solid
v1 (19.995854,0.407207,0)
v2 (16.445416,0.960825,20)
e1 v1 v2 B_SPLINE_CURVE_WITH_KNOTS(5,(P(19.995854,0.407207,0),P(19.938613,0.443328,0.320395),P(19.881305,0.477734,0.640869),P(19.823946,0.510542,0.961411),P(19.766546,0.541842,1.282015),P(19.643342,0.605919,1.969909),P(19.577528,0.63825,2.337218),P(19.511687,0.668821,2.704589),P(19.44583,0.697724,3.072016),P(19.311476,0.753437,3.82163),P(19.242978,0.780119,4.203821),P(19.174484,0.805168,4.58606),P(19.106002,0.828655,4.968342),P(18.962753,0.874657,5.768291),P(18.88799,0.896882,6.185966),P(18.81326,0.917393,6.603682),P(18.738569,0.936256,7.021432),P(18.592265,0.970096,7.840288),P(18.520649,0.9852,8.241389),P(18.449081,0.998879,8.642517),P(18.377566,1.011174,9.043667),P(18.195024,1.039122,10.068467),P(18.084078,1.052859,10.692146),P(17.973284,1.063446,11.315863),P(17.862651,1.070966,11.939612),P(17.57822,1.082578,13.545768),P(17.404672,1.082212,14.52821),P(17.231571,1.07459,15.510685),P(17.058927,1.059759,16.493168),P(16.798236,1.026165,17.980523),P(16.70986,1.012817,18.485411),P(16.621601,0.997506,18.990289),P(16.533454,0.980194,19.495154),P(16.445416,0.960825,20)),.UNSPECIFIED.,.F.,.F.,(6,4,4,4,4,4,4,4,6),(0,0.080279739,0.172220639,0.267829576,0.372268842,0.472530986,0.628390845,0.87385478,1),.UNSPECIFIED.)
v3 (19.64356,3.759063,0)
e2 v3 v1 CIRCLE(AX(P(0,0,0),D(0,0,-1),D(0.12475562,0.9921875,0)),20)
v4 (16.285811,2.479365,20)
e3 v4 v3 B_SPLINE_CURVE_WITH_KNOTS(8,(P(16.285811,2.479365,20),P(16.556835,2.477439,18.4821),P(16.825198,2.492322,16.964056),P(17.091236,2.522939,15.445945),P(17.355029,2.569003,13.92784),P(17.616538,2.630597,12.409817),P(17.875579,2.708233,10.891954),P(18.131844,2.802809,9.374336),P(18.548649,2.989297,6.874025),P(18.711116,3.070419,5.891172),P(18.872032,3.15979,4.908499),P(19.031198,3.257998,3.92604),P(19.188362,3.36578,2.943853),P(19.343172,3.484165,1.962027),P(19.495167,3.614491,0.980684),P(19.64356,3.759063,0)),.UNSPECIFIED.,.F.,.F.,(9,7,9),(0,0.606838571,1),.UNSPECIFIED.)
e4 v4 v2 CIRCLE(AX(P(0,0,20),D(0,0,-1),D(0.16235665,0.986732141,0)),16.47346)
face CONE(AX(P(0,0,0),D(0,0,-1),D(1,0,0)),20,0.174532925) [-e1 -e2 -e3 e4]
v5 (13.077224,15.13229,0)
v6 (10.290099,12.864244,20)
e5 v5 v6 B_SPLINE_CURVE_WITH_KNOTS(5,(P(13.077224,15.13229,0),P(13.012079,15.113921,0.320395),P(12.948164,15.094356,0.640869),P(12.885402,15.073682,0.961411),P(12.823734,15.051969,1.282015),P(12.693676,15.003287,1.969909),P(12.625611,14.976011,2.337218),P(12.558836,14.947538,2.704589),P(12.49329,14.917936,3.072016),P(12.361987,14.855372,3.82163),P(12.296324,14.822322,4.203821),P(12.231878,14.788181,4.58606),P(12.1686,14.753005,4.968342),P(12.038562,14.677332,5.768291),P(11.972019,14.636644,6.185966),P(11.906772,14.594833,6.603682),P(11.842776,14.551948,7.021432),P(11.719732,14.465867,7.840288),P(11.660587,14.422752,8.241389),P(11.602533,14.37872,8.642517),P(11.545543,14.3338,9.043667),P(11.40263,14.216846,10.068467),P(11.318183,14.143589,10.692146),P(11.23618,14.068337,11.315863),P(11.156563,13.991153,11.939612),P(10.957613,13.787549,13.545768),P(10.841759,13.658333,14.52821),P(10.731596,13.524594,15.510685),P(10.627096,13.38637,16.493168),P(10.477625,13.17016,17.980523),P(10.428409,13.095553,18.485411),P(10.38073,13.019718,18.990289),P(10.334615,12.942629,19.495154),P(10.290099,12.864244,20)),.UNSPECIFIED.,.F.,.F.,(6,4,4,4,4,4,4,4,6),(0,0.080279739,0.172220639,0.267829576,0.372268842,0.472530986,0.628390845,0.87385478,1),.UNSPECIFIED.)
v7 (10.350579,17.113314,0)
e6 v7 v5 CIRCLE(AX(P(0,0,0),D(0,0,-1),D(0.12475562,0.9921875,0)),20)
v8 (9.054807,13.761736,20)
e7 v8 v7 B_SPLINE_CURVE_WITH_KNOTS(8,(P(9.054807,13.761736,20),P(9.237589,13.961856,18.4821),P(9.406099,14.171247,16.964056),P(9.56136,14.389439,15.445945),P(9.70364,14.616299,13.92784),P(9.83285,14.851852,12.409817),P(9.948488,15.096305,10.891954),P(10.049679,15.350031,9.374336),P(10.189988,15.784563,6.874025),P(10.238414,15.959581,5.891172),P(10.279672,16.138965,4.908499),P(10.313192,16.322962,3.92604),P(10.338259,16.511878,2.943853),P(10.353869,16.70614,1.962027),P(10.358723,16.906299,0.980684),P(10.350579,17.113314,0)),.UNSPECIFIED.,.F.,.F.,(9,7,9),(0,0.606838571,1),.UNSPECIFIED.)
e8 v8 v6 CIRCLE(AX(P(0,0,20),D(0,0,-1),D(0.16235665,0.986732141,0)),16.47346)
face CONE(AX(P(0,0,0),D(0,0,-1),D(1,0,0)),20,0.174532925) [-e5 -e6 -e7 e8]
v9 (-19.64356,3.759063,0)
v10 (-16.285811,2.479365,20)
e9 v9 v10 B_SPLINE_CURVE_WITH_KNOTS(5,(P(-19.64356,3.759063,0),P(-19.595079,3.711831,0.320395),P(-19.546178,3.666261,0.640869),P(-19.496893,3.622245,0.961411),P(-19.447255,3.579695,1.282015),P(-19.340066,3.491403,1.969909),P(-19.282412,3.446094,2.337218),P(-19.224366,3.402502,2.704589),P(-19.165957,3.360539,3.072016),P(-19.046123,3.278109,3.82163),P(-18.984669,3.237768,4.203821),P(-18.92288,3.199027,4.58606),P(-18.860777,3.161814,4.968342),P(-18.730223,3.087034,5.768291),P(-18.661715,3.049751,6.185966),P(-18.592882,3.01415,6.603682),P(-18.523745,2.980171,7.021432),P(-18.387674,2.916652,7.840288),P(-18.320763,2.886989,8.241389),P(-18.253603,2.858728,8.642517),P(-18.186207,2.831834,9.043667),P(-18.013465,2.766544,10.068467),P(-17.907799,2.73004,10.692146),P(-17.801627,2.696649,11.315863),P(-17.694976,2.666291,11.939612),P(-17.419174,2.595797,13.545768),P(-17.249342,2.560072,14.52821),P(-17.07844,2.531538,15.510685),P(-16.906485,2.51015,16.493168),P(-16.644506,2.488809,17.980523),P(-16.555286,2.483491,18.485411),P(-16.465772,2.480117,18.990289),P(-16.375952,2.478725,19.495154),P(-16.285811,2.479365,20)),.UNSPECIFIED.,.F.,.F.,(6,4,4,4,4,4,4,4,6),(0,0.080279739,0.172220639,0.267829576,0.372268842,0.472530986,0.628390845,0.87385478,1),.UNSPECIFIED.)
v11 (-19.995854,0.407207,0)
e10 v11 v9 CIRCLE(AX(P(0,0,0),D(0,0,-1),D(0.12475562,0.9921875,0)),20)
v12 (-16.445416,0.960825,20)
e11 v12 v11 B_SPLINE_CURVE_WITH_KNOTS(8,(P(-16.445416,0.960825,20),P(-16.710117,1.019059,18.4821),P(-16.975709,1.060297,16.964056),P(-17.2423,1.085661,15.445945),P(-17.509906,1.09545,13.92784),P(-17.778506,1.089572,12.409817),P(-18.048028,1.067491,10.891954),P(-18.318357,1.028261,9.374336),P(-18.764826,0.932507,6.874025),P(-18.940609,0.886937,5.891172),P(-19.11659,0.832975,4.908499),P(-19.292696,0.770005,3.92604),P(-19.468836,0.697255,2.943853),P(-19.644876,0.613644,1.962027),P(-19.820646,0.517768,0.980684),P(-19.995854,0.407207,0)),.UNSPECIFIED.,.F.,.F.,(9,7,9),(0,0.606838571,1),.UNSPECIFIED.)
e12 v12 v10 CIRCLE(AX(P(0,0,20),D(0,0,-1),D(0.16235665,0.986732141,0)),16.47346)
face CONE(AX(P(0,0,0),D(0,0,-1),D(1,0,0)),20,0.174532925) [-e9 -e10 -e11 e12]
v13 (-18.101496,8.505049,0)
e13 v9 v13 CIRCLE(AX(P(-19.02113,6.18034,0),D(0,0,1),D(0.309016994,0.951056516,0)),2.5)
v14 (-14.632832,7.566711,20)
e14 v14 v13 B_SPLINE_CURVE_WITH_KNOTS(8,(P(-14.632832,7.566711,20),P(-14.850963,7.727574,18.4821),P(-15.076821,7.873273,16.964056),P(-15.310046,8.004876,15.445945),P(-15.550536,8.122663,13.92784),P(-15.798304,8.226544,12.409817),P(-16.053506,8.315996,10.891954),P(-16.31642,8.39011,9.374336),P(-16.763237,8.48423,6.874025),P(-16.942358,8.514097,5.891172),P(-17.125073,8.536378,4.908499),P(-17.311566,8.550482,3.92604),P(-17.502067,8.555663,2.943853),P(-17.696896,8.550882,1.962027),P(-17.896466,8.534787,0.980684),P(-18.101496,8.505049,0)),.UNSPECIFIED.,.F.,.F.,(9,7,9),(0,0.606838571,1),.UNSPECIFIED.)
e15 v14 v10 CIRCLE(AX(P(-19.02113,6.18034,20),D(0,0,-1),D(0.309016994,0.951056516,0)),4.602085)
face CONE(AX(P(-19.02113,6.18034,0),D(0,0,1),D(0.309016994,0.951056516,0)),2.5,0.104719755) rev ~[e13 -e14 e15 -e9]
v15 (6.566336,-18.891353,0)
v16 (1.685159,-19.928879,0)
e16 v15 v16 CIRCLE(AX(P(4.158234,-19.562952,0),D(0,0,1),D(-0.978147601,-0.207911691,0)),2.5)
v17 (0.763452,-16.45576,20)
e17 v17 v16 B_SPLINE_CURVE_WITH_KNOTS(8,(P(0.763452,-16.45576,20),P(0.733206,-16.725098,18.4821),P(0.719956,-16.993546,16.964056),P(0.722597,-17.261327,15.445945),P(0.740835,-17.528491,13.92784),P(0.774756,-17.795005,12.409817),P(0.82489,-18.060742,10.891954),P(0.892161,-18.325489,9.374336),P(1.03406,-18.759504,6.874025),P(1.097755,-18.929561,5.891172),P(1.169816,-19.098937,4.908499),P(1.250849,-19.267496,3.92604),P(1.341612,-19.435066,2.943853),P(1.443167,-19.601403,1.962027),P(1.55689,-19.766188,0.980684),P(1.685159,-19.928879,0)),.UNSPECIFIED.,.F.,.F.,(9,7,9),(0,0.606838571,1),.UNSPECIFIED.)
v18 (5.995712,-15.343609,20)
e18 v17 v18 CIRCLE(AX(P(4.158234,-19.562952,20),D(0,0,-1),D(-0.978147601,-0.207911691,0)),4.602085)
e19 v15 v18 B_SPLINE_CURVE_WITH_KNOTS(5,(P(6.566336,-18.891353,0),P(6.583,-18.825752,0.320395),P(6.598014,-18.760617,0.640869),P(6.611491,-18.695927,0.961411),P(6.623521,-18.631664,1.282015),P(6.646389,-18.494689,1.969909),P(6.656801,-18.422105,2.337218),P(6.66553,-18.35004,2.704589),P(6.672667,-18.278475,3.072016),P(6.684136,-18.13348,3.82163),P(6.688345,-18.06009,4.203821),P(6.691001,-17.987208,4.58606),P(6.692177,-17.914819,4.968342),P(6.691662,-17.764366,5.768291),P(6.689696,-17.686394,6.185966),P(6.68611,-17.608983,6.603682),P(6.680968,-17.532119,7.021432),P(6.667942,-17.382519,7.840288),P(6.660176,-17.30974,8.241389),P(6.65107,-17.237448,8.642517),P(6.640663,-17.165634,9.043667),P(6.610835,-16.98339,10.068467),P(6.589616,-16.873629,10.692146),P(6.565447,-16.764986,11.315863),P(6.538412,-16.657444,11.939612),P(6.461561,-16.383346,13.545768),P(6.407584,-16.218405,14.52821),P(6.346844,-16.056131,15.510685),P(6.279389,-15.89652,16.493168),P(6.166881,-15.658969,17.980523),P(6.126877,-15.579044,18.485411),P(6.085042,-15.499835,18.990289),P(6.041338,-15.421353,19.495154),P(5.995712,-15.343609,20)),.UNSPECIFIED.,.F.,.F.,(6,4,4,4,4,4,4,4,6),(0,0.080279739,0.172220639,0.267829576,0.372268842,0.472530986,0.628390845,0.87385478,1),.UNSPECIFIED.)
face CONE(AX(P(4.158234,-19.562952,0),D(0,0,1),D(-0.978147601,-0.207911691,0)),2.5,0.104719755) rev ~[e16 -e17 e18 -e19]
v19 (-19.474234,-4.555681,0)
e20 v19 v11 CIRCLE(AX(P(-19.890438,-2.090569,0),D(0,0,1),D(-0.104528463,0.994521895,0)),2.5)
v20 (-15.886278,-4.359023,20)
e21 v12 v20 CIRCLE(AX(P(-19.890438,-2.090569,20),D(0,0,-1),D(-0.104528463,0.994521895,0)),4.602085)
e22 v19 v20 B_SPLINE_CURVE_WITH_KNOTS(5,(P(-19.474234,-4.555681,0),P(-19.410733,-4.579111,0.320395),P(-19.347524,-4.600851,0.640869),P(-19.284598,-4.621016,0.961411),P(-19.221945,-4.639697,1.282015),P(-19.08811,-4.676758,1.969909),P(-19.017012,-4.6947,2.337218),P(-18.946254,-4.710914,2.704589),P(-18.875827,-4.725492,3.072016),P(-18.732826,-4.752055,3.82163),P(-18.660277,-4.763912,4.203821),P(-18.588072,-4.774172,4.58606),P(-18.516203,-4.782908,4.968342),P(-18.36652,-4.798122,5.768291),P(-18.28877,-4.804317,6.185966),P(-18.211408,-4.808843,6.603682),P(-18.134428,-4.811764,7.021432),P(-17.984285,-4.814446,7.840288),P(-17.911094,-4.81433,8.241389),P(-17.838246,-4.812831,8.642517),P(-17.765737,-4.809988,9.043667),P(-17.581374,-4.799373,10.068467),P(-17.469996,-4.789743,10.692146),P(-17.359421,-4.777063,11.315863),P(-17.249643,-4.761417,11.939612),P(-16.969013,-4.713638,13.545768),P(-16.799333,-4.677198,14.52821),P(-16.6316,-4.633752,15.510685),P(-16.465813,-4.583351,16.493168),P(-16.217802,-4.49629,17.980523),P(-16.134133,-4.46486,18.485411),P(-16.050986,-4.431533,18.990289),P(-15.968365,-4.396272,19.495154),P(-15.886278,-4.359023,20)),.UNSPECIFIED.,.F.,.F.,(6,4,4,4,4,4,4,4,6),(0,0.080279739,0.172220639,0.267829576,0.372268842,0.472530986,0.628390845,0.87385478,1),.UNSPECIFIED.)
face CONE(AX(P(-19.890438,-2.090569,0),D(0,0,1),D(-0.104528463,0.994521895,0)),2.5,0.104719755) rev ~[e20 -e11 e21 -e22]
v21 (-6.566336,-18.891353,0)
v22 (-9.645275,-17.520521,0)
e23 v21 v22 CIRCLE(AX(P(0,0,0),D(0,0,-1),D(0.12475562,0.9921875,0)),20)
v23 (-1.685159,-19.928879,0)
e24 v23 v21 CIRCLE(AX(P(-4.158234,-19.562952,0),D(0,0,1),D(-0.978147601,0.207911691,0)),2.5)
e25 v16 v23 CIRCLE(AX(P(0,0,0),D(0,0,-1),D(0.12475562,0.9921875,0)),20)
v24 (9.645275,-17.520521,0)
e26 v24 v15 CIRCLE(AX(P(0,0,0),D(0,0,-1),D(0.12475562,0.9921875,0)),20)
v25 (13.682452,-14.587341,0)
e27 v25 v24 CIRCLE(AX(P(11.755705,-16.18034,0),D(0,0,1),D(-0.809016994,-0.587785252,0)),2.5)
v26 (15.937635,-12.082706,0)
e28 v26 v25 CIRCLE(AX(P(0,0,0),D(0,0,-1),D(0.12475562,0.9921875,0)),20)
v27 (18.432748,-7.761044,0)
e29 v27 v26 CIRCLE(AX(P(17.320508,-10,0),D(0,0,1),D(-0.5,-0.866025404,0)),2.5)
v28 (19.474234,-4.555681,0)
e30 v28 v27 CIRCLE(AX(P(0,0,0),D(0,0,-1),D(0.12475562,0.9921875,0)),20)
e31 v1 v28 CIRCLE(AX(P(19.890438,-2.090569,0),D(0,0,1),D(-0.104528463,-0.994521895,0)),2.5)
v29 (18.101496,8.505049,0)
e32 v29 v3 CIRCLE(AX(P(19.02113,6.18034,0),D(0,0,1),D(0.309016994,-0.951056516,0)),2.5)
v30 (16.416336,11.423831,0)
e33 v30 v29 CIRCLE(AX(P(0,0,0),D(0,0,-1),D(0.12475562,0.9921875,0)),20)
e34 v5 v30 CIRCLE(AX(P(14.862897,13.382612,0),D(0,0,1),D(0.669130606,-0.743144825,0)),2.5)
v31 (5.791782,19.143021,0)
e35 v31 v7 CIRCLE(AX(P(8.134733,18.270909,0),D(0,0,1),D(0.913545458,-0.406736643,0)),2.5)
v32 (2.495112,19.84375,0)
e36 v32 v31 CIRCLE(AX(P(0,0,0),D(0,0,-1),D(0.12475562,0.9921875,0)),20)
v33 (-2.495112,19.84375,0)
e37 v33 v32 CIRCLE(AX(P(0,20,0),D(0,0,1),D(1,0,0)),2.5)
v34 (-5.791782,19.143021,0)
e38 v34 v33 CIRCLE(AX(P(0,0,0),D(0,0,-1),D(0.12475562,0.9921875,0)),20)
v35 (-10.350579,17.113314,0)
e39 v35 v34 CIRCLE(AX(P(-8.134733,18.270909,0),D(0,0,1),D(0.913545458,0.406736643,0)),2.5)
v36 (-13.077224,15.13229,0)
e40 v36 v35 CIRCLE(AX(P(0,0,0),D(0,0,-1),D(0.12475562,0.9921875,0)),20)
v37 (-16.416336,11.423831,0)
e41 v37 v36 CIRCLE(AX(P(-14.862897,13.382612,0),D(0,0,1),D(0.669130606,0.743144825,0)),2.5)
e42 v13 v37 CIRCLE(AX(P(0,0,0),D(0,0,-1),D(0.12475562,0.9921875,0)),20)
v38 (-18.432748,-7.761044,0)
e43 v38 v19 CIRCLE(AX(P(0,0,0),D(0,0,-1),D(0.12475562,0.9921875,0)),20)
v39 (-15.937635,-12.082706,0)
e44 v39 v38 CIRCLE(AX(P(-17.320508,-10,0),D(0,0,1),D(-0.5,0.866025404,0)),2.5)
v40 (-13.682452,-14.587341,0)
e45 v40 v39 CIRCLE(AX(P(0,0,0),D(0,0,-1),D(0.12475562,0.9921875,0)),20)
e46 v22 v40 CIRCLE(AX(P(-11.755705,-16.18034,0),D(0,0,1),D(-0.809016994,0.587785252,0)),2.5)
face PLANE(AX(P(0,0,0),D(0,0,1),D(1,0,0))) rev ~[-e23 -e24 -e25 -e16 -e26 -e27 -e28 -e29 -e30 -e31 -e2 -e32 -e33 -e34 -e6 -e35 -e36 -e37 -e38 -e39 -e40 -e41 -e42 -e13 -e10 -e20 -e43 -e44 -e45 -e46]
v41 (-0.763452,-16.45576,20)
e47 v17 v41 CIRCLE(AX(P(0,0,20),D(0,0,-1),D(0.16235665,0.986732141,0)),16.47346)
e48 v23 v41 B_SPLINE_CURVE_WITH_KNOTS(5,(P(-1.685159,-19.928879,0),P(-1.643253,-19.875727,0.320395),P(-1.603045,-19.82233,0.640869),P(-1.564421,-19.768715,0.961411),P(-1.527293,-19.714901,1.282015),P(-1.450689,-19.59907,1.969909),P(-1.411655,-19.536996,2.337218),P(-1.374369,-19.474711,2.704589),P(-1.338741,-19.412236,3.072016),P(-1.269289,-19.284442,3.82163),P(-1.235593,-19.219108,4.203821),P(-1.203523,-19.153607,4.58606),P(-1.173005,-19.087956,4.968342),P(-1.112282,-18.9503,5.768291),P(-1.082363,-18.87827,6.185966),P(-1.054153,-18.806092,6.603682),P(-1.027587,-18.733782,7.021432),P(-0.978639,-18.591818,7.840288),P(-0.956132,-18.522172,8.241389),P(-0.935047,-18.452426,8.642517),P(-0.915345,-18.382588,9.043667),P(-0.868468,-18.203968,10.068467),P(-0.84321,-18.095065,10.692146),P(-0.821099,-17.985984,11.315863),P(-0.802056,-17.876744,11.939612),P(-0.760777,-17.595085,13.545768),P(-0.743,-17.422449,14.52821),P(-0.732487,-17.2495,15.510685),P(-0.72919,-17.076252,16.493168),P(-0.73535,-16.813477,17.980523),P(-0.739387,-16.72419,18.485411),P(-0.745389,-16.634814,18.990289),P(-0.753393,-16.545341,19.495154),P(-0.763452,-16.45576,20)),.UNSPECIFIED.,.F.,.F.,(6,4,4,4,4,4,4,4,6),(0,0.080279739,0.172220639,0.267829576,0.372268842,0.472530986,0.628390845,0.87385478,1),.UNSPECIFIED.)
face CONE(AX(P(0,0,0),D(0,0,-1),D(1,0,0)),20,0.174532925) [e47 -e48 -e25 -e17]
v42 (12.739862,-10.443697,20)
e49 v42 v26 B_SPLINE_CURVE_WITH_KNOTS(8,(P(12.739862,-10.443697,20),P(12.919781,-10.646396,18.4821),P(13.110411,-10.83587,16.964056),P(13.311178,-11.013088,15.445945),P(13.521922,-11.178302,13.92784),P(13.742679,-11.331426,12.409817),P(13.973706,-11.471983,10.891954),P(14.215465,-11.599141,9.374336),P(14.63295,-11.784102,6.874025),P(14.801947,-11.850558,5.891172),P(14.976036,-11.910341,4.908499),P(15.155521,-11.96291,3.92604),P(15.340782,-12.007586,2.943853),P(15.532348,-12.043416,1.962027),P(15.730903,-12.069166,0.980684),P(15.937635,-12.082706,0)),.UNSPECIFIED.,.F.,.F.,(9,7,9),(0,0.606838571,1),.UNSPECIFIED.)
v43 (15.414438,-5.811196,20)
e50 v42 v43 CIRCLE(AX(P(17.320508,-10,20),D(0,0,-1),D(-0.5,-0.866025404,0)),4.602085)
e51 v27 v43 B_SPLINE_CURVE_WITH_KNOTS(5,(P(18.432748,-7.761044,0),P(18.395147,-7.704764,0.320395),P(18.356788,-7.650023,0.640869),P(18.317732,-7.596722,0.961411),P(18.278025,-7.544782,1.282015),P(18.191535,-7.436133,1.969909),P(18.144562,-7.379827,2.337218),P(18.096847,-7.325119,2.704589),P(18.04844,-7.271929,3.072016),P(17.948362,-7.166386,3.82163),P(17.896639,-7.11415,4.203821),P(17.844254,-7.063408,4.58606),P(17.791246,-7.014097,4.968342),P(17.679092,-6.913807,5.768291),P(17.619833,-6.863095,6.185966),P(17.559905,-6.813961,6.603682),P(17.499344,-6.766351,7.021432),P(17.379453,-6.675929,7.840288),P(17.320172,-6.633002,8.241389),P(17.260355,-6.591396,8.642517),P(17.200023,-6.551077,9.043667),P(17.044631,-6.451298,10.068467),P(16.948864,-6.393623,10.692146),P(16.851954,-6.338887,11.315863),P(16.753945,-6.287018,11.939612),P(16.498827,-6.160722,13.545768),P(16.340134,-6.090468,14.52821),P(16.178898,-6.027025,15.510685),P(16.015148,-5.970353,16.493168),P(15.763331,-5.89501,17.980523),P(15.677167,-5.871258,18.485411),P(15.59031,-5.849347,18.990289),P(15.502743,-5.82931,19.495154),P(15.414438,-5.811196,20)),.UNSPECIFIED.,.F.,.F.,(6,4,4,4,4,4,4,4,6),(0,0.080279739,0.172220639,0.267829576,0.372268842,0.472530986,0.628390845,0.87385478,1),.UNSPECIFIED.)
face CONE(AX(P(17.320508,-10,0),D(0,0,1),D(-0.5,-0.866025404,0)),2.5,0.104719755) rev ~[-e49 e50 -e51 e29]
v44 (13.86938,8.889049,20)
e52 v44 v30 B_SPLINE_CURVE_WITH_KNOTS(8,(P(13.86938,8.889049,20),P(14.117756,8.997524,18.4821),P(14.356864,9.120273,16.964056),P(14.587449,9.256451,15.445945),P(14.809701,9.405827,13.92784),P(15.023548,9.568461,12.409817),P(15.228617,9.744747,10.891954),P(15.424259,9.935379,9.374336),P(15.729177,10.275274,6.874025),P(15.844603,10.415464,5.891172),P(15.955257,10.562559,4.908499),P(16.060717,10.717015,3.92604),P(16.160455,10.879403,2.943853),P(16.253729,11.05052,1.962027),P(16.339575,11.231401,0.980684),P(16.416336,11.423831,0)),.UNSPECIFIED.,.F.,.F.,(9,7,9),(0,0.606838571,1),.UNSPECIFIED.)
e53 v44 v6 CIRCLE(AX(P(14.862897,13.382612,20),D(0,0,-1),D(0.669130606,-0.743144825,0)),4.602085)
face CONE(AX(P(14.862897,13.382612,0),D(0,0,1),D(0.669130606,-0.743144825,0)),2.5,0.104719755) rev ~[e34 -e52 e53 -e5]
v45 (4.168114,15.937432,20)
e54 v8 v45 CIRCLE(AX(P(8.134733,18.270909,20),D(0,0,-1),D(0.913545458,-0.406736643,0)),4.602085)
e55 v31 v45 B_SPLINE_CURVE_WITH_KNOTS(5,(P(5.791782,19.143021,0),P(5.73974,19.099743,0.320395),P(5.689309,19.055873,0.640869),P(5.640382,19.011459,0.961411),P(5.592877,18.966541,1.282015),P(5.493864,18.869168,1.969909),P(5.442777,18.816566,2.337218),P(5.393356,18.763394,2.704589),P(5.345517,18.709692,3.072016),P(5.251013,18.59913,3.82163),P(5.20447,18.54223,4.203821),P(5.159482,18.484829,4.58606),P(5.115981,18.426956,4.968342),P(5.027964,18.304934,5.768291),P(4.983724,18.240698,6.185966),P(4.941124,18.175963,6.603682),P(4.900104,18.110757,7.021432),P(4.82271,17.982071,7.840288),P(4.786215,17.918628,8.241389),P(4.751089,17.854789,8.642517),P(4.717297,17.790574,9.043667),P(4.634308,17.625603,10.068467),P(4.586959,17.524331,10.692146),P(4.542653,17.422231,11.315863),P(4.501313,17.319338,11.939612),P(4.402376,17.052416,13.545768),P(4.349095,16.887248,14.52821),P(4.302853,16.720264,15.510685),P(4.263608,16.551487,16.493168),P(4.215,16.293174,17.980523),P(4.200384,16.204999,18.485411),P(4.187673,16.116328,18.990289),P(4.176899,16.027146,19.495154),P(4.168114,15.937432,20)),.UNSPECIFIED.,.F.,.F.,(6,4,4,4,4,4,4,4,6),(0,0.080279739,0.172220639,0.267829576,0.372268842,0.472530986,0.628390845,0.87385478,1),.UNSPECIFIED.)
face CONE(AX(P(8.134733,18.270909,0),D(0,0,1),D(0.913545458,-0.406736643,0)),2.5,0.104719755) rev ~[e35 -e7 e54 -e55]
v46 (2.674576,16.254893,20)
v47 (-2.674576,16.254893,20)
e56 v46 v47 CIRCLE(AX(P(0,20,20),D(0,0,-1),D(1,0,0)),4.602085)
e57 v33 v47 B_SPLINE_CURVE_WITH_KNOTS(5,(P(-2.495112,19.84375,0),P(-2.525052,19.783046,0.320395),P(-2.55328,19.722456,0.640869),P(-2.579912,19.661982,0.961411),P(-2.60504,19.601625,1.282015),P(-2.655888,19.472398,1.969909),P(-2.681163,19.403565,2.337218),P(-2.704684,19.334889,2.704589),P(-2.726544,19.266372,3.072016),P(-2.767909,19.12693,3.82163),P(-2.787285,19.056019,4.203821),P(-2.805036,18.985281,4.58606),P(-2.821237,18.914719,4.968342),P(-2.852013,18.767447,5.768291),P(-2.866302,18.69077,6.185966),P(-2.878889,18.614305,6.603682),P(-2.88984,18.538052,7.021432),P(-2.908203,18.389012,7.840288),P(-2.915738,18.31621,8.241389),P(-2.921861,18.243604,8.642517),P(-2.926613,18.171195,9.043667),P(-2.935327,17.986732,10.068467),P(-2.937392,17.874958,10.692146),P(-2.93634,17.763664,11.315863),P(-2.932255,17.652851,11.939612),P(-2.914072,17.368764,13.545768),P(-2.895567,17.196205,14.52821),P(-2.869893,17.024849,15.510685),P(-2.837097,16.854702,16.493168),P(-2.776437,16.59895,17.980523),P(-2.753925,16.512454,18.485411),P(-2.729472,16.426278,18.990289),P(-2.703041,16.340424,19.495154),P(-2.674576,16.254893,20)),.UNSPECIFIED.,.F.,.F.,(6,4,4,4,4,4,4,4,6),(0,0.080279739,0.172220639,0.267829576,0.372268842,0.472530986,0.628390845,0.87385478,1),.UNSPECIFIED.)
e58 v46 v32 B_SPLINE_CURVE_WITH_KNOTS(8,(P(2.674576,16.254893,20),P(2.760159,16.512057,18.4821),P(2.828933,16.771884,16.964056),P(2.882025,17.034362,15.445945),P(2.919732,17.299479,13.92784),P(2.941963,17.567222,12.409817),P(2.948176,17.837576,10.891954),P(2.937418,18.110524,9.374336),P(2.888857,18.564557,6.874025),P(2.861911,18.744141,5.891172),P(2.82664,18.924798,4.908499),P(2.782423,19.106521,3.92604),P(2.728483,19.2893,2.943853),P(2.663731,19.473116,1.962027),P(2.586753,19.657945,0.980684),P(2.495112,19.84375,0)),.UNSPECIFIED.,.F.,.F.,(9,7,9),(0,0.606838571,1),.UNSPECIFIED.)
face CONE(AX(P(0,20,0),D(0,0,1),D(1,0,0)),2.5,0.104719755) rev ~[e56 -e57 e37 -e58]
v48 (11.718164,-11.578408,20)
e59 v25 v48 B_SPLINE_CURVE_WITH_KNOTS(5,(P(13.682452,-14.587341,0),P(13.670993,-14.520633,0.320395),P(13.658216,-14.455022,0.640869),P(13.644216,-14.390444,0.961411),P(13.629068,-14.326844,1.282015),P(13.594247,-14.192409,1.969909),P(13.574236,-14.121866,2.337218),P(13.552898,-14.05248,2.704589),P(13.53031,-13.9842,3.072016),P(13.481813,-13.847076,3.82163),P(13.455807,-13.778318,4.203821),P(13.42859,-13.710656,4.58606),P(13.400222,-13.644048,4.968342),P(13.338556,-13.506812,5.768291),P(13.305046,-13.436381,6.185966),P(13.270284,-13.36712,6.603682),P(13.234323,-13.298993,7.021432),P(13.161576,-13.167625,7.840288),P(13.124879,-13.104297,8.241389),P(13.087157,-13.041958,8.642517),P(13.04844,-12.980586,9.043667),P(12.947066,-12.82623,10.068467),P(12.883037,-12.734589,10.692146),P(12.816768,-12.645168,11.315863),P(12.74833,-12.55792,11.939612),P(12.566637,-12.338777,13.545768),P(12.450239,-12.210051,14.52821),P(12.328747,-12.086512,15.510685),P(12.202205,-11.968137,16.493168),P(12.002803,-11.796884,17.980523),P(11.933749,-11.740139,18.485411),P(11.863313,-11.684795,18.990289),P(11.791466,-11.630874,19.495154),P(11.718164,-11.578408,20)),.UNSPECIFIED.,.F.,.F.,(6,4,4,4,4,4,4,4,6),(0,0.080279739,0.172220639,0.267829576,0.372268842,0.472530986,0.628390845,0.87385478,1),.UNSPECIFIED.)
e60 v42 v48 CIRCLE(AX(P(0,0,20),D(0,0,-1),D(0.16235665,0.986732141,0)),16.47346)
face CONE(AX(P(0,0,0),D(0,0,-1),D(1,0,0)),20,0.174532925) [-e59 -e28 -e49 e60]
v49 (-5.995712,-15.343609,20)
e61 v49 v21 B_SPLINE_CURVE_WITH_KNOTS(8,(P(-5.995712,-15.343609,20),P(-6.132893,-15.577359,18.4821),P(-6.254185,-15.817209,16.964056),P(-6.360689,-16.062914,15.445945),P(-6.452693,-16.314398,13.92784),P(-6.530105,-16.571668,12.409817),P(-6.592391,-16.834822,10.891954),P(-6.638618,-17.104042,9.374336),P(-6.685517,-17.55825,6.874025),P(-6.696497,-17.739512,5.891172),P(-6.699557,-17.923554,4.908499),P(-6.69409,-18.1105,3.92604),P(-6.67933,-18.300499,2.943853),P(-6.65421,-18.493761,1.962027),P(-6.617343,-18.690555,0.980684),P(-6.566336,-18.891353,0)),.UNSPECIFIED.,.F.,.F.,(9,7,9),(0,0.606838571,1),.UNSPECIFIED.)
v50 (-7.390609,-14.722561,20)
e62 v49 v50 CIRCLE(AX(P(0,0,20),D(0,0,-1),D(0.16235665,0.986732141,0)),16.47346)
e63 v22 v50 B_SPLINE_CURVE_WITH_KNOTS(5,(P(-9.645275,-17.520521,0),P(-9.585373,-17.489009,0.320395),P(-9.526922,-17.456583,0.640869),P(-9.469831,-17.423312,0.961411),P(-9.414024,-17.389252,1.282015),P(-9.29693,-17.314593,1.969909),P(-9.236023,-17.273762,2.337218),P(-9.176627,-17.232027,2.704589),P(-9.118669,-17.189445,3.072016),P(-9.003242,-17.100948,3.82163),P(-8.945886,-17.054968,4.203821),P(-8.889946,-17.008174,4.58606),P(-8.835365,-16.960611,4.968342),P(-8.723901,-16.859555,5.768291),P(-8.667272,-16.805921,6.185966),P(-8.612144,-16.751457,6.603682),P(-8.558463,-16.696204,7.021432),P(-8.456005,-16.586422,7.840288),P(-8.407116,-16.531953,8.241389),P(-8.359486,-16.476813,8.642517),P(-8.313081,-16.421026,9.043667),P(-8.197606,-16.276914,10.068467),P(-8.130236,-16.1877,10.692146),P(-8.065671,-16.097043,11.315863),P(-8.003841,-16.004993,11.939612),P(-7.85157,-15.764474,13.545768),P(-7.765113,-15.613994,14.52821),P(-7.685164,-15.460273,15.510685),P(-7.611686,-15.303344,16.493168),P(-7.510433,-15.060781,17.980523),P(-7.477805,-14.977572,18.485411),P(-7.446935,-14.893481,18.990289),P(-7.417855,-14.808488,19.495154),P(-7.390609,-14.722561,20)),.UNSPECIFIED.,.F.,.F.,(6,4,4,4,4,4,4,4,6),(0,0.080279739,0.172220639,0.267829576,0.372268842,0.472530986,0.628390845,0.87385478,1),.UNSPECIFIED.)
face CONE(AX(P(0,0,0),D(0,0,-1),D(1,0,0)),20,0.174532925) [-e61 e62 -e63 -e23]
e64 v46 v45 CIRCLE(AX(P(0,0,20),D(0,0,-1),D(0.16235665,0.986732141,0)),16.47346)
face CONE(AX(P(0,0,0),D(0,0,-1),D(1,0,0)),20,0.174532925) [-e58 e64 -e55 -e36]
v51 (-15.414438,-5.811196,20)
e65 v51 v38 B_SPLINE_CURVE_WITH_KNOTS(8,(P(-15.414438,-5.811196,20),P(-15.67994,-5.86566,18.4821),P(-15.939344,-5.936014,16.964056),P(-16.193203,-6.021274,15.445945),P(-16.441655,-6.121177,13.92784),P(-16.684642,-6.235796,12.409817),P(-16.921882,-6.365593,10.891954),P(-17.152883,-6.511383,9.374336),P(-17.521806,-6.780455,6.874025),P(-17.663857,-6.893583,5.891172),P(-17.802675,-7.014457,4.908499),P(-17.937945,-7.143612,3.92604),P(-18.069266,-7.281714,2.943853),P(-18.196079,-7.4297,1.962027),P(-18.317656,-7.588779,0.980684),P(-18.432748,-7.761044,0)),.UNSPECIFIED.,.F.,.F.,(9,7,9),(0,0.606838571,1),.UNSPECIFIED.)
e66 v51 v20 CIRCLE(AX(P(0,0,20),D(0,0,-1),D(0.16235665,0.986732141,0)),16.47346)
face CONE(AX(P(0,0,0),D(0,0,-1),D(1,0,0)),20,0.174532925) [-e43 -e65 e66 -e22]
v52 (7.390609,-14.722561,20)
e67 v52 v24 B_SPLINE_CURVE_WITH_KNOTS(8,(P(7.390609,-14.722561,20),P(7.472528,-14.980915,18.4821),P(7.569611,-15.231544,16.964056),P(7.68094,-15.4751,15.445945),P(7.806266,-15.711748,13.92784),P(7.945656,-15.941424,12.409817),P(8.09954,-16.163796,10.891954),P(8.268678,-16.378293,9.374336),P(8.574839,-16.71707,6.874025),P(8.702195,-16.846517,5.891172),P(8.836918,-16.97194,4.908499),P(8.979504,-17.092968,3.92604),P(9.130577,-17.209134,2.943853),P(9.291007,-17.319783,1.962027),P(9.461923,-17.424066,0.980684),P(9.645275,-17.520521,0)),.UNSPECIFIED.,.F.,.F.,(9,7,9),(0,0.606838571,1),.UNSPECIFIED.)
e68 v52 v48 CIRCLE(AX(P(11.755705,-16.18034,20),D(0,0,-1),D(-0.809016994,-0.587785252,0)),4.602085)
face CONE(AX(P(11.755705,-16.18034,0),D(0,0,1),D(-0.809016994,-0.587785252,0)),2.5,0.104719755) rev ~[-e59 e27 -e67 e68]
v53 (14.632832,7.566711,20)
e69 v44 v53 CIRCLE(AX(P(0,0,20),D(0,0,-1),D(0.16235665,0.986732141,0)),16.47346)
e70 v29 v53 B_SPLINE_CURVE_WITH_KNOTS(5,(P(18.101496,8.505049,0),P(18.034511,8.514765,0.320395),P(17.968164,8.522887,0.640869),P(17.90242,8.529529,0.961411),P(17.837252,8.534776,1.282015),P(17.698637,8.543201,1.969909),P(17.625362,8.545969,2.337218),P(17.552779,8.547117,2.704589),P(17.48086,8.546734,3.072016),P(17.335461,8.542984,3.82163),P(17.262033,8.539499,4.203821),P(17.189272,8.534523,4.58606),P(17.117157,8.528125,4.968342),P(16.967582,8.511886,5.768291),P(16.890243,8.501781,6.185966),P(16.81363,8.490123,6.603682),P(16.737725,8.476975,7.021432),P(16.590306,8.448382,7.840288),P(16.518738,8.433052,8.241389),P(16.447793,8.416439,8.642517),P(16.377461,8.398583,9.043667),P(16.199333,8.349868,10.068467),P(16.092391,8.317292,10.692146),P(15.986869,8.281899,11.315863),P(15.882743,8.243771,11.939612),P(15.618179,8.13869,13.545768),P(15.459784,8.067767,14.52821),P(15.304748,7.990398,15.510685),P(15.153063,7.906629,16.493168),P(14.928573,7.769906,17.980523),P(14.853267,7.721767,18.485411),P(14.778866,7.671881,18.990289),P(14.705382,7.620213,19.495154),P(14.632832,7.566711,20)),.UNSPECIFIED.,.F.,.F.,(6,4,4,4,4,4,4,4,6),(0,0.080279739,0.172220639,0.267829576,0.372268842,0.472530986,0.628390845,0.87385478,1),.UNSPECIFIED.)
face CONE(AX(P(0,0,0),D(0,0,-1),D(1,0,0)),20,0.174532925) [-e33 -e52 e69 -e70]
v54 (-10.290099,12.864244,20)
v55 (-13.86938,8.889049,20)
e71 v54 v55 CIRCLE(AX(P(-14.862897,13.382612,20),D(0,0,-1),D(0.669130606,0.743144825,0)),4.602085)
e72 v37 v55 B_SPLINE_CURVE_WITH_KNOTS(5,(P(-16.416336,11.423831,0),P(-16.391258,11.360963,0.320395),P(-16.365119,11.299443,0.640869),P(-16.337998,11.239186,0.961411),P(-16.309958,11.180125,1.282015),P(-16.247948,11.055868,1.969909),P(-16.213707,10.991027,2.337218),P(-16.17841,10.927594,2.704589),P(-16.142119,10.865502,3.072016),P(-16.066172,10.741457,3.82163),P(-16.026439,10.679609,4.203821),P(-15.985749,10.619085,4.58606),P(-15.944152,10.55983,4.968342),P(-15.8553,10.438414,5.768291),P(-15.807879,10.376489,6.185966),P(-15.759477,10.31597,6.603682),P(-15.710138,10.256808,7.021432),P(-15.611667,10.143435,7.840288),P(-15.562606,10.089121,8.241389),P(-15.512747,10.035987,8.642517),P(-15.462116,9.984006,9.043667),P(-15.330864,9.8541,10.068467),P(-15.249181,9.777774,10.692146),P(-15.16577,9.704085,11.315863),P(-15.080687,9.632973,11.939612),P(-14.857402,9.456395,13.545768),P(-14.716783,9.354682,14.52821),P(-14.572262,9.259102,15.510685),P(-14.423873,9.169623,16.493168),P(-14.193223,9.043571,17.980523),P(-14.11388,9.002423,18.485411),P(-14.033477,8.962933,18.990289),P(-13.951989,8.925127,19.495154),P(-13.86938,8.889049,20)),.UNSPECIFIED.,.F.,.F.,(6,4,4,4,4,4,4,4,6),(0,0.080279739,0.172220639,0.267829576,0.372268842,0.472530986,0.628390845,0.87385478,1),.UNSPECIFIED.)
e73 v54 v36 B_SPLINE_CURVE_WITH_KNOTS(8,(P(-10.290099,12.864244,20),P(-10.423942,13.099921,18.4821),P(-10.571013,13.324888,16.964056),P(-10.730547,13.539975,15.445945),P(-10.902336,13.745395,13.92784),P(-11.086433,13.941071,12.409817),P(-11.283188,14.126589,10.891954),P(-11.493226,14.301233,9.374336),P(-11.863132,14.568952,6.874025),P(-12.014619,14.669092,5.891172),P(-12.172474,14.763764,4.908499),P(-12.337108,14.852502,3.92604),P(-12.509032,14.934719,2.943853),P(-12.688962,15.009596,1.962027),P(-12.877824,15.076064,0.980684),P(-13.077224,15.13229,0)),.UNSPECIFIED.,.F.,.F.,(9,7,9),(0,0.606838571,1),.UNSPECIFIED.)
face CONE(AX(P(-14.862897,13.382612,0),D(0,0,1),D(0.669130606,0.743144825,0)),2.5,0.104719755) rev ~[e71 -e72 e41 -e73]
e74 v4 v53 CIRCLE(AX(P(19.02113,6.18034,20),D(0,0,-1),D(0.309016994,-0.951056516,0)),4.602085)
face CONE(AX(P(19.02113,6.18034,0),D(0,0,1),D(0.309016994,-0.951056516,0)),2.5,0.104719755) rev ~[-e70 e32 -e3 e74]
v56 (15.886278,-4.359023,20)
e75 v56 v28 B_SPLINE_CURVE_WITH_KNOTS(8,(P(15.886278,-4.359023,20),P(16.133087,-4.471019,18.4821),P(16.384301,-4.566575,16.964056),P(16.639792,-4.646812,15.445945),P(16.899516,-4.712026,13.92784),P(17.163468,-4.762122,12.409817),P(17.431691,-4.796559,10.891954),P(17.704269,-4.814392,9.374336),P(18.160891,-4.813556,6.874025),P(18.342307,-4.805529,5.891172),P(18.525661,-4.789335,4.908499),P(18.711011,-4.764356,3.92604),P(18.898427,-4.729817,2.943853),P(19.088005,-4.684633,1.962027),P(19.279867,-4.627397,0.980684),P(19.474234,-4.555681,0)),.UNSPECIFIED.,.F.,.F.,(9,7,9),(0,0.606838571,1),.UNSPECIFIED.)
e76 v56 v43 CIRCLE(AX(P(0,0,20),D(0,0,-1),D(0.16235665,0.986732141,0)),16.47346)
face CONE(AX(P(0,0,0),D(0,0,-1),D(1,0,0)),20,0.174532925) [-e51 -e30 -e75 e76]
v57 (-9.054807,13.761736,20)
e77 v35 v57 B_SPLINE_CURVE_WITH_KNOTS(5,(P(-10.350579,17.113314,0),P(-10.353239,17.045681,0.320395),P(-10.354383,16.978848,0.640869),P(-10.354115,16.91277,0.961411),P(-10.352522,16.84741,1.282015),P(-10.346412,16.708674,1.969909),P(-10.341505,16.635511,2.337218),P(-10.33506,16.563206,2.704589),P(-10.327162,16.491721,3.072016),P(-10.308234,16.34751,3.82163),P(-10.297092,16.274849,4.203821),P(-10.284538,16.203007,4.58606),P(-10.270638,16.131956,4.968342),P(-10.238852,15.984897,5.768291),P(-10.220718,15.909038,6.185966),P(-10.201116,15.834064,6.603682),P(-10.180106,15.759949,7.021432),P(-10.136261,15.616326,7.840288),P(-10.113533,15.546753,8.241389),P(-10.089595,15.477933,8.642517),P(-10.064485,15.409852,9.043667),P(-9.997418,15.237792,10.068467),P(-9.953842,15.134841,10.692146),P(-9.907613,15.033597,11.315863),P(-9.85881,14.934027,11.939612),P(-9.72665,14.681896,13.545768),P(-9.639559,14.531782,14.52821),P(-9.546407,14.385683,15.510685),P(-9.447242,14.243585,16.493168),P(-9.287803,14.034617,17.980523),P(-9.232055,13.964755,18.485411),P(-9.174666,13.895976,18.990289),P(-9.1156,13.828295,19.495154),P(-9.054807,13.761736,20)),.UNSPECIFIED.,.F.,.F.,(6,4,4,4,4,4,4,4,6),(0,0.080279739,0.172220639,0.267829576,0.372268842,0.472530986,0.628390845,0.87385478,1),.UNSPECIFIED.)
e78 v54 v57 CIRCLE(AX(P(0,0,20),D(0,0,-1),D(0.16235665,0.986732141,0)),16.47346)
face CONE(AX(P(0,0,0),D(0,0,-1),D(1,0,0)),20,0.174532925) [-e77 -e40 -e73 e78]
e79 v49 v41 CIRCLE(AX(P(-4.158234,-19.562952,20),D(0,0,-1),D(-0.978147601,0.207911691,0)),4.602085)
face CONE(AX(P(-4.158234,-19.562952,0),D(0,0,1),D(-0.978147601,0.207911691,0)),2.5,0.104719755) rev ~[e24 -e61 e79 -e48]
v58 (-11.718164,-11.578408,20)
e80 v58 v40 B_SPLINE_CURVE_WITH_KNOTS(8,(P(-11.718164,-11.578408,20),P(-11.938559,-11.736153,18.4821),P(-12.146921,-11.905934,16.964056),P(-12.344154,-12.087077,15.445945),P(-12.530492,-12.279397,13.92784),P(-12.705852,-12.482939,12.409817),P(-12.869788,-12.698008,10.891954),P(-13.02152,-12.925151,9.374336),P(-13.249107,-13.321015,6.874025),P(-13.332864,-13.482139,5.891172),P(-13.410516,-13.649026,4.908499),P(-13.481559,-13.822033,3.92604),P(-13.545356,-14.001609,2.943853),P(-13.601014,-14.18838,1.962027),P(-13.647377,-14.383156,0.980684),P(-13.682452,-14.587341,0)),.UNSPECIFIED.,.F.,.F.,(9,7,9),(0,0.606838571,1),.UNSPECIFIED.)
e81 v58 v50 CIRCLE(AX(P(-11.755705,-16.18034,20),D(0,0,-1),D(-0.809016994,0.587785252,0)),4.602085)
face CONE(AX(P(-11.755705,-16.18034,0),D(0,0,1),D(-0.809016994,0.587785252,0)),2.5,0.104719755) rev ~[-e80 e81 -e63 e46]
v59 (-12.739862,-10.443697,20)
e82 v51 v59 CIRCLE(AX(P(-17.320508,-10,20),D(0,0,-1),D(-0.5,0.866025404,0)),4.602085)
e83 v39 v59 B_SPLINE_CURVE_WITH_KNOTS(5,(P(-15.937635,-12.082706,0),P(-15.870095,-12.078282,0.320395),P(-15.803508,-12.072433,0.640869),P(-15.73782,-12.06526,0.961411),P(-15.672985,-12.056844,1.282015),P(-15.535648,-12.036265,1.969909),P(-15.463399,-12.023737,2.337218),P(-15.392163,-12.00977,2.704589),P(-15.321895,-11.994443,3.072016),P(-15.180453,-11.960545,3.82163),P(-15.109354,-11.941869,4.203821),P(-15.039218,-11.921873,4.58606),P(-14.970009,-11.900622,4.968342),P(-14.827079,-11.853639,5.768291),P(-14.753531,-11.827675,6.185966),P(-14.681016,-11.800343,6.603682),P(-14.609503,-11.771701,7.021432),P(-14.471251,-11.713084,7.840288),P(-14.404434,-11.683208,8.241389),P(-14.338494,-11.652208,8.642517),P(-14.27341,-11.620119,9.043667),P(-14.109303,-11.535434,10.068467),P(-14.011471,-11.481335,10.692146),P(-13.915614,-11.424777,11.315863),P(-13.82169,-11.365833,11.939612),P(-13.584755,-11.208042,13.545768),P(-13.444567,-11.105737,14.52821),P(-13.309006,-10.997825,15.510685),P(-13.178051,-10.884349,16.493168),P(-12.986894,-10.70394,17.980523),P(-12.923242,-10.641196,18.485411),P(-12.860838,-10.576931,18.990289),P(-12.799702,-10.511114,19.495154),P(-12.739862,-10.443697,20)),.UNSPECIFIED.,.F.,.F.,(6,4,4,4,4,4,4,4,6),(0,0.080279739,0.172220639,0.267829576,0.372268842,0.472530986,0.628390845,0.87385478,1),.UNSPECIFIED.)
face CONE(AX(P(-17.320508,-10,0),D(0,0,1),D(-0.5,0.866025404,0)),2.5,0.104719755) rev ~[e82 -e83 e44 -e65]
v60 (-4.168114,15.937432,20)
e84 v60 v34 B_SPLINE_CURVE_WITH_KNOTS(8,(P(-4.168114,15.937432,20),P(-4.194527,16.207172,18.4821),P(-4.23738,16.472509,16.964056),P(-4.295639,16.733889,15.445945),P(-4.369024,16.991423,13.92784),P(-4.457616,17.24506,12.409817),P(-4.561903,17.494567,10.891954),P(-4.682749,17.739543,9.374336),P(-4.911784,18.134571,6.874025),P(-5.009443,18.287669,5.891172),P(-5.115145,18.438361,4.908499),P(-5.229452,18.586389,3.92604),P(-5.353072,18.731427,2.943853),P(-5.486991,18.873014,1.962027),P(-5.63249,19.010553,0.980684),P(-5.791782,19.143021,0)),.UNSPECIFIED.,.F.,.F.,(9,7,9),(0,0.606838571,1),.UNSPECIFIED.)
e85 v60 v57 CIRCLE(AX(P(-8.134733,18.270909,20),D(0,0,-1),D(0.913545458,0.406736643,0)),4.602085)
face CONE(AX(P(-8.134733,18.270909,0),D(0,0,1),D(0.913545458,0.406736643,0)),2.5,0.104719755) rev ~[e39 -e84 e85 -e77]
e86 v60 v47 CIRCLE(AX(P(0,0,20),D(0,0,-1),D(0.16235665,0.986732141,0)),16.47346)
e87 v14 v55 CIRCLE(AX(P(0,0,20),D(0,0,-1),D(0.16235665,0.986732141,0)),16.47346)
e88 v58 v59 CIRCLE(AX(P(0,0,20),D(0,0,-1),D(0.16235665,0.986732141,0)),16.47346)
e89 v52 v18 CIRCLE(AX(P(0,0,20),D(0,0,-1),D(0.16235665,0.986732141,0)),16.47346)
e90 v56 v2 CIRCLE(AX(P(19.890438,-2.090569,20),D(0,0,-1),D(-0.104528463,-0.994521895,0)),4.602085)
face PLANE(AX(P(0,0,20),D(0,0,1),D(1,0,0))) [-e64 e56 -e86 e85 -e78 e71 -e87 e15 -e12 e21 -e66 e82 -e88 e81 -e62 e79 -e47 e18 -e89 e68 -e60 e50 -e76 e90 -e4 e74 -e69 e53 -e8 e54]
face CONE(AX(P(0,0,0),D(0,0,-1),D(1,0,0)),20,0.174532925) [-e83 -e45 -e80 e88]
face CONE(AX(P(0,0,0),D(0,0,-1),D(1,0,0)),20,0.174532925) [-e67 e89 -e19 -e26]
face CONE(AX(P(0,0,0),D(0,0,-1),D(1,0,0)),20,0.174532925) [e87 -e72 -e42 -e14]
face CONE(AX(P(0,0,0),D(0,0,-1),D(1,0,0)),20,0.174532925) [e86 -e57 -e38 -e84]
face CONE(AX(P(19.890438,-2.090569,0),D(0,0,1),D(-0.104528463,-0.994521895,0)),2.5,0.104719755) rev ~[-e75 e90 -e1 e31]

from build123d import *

# Parameters (mm, degrees)
SKETCH_R           = 20
PAD_DEPTH          = 20
PAD_TAPER          = 10
SKETCH001_R        = 2.5
POCKET_DEPTH       = 20
POCKET_TAPER       = -6
POLARPATTERN_COUNT = 15


with BuildPart() as part:
    # Sketch → Pad (new body)
    with BuildSketch(Plane.XY):
        Circle(SKETCH_R)
    extrude(amount=PAD_DEPTH, taper=PAD_TAPER)

    # Sketch001 → Pocket (cut)
    with BuildSketch(Plane.XY):
        with Locations((0, 20)):
            Circle(SKETCH001_R)
    pocket = extrude(amount=POCKET_DEPTH, taper=POCKET_TAPER, mode=Mode.SUBTRACT)

    # PolarPattern: Pocket ×15 about axis
    polarpattern_axis = Axis((0, 0, 0), (0, 0, 1))
    for i in range(1, POLARPATTERN_COUNT):
        add(pocket.rotate(polarpattern_axis, i * 360 / POLARPATTERN_COUNT), mode=Mode.SUBTRACT)


solid = part.part
